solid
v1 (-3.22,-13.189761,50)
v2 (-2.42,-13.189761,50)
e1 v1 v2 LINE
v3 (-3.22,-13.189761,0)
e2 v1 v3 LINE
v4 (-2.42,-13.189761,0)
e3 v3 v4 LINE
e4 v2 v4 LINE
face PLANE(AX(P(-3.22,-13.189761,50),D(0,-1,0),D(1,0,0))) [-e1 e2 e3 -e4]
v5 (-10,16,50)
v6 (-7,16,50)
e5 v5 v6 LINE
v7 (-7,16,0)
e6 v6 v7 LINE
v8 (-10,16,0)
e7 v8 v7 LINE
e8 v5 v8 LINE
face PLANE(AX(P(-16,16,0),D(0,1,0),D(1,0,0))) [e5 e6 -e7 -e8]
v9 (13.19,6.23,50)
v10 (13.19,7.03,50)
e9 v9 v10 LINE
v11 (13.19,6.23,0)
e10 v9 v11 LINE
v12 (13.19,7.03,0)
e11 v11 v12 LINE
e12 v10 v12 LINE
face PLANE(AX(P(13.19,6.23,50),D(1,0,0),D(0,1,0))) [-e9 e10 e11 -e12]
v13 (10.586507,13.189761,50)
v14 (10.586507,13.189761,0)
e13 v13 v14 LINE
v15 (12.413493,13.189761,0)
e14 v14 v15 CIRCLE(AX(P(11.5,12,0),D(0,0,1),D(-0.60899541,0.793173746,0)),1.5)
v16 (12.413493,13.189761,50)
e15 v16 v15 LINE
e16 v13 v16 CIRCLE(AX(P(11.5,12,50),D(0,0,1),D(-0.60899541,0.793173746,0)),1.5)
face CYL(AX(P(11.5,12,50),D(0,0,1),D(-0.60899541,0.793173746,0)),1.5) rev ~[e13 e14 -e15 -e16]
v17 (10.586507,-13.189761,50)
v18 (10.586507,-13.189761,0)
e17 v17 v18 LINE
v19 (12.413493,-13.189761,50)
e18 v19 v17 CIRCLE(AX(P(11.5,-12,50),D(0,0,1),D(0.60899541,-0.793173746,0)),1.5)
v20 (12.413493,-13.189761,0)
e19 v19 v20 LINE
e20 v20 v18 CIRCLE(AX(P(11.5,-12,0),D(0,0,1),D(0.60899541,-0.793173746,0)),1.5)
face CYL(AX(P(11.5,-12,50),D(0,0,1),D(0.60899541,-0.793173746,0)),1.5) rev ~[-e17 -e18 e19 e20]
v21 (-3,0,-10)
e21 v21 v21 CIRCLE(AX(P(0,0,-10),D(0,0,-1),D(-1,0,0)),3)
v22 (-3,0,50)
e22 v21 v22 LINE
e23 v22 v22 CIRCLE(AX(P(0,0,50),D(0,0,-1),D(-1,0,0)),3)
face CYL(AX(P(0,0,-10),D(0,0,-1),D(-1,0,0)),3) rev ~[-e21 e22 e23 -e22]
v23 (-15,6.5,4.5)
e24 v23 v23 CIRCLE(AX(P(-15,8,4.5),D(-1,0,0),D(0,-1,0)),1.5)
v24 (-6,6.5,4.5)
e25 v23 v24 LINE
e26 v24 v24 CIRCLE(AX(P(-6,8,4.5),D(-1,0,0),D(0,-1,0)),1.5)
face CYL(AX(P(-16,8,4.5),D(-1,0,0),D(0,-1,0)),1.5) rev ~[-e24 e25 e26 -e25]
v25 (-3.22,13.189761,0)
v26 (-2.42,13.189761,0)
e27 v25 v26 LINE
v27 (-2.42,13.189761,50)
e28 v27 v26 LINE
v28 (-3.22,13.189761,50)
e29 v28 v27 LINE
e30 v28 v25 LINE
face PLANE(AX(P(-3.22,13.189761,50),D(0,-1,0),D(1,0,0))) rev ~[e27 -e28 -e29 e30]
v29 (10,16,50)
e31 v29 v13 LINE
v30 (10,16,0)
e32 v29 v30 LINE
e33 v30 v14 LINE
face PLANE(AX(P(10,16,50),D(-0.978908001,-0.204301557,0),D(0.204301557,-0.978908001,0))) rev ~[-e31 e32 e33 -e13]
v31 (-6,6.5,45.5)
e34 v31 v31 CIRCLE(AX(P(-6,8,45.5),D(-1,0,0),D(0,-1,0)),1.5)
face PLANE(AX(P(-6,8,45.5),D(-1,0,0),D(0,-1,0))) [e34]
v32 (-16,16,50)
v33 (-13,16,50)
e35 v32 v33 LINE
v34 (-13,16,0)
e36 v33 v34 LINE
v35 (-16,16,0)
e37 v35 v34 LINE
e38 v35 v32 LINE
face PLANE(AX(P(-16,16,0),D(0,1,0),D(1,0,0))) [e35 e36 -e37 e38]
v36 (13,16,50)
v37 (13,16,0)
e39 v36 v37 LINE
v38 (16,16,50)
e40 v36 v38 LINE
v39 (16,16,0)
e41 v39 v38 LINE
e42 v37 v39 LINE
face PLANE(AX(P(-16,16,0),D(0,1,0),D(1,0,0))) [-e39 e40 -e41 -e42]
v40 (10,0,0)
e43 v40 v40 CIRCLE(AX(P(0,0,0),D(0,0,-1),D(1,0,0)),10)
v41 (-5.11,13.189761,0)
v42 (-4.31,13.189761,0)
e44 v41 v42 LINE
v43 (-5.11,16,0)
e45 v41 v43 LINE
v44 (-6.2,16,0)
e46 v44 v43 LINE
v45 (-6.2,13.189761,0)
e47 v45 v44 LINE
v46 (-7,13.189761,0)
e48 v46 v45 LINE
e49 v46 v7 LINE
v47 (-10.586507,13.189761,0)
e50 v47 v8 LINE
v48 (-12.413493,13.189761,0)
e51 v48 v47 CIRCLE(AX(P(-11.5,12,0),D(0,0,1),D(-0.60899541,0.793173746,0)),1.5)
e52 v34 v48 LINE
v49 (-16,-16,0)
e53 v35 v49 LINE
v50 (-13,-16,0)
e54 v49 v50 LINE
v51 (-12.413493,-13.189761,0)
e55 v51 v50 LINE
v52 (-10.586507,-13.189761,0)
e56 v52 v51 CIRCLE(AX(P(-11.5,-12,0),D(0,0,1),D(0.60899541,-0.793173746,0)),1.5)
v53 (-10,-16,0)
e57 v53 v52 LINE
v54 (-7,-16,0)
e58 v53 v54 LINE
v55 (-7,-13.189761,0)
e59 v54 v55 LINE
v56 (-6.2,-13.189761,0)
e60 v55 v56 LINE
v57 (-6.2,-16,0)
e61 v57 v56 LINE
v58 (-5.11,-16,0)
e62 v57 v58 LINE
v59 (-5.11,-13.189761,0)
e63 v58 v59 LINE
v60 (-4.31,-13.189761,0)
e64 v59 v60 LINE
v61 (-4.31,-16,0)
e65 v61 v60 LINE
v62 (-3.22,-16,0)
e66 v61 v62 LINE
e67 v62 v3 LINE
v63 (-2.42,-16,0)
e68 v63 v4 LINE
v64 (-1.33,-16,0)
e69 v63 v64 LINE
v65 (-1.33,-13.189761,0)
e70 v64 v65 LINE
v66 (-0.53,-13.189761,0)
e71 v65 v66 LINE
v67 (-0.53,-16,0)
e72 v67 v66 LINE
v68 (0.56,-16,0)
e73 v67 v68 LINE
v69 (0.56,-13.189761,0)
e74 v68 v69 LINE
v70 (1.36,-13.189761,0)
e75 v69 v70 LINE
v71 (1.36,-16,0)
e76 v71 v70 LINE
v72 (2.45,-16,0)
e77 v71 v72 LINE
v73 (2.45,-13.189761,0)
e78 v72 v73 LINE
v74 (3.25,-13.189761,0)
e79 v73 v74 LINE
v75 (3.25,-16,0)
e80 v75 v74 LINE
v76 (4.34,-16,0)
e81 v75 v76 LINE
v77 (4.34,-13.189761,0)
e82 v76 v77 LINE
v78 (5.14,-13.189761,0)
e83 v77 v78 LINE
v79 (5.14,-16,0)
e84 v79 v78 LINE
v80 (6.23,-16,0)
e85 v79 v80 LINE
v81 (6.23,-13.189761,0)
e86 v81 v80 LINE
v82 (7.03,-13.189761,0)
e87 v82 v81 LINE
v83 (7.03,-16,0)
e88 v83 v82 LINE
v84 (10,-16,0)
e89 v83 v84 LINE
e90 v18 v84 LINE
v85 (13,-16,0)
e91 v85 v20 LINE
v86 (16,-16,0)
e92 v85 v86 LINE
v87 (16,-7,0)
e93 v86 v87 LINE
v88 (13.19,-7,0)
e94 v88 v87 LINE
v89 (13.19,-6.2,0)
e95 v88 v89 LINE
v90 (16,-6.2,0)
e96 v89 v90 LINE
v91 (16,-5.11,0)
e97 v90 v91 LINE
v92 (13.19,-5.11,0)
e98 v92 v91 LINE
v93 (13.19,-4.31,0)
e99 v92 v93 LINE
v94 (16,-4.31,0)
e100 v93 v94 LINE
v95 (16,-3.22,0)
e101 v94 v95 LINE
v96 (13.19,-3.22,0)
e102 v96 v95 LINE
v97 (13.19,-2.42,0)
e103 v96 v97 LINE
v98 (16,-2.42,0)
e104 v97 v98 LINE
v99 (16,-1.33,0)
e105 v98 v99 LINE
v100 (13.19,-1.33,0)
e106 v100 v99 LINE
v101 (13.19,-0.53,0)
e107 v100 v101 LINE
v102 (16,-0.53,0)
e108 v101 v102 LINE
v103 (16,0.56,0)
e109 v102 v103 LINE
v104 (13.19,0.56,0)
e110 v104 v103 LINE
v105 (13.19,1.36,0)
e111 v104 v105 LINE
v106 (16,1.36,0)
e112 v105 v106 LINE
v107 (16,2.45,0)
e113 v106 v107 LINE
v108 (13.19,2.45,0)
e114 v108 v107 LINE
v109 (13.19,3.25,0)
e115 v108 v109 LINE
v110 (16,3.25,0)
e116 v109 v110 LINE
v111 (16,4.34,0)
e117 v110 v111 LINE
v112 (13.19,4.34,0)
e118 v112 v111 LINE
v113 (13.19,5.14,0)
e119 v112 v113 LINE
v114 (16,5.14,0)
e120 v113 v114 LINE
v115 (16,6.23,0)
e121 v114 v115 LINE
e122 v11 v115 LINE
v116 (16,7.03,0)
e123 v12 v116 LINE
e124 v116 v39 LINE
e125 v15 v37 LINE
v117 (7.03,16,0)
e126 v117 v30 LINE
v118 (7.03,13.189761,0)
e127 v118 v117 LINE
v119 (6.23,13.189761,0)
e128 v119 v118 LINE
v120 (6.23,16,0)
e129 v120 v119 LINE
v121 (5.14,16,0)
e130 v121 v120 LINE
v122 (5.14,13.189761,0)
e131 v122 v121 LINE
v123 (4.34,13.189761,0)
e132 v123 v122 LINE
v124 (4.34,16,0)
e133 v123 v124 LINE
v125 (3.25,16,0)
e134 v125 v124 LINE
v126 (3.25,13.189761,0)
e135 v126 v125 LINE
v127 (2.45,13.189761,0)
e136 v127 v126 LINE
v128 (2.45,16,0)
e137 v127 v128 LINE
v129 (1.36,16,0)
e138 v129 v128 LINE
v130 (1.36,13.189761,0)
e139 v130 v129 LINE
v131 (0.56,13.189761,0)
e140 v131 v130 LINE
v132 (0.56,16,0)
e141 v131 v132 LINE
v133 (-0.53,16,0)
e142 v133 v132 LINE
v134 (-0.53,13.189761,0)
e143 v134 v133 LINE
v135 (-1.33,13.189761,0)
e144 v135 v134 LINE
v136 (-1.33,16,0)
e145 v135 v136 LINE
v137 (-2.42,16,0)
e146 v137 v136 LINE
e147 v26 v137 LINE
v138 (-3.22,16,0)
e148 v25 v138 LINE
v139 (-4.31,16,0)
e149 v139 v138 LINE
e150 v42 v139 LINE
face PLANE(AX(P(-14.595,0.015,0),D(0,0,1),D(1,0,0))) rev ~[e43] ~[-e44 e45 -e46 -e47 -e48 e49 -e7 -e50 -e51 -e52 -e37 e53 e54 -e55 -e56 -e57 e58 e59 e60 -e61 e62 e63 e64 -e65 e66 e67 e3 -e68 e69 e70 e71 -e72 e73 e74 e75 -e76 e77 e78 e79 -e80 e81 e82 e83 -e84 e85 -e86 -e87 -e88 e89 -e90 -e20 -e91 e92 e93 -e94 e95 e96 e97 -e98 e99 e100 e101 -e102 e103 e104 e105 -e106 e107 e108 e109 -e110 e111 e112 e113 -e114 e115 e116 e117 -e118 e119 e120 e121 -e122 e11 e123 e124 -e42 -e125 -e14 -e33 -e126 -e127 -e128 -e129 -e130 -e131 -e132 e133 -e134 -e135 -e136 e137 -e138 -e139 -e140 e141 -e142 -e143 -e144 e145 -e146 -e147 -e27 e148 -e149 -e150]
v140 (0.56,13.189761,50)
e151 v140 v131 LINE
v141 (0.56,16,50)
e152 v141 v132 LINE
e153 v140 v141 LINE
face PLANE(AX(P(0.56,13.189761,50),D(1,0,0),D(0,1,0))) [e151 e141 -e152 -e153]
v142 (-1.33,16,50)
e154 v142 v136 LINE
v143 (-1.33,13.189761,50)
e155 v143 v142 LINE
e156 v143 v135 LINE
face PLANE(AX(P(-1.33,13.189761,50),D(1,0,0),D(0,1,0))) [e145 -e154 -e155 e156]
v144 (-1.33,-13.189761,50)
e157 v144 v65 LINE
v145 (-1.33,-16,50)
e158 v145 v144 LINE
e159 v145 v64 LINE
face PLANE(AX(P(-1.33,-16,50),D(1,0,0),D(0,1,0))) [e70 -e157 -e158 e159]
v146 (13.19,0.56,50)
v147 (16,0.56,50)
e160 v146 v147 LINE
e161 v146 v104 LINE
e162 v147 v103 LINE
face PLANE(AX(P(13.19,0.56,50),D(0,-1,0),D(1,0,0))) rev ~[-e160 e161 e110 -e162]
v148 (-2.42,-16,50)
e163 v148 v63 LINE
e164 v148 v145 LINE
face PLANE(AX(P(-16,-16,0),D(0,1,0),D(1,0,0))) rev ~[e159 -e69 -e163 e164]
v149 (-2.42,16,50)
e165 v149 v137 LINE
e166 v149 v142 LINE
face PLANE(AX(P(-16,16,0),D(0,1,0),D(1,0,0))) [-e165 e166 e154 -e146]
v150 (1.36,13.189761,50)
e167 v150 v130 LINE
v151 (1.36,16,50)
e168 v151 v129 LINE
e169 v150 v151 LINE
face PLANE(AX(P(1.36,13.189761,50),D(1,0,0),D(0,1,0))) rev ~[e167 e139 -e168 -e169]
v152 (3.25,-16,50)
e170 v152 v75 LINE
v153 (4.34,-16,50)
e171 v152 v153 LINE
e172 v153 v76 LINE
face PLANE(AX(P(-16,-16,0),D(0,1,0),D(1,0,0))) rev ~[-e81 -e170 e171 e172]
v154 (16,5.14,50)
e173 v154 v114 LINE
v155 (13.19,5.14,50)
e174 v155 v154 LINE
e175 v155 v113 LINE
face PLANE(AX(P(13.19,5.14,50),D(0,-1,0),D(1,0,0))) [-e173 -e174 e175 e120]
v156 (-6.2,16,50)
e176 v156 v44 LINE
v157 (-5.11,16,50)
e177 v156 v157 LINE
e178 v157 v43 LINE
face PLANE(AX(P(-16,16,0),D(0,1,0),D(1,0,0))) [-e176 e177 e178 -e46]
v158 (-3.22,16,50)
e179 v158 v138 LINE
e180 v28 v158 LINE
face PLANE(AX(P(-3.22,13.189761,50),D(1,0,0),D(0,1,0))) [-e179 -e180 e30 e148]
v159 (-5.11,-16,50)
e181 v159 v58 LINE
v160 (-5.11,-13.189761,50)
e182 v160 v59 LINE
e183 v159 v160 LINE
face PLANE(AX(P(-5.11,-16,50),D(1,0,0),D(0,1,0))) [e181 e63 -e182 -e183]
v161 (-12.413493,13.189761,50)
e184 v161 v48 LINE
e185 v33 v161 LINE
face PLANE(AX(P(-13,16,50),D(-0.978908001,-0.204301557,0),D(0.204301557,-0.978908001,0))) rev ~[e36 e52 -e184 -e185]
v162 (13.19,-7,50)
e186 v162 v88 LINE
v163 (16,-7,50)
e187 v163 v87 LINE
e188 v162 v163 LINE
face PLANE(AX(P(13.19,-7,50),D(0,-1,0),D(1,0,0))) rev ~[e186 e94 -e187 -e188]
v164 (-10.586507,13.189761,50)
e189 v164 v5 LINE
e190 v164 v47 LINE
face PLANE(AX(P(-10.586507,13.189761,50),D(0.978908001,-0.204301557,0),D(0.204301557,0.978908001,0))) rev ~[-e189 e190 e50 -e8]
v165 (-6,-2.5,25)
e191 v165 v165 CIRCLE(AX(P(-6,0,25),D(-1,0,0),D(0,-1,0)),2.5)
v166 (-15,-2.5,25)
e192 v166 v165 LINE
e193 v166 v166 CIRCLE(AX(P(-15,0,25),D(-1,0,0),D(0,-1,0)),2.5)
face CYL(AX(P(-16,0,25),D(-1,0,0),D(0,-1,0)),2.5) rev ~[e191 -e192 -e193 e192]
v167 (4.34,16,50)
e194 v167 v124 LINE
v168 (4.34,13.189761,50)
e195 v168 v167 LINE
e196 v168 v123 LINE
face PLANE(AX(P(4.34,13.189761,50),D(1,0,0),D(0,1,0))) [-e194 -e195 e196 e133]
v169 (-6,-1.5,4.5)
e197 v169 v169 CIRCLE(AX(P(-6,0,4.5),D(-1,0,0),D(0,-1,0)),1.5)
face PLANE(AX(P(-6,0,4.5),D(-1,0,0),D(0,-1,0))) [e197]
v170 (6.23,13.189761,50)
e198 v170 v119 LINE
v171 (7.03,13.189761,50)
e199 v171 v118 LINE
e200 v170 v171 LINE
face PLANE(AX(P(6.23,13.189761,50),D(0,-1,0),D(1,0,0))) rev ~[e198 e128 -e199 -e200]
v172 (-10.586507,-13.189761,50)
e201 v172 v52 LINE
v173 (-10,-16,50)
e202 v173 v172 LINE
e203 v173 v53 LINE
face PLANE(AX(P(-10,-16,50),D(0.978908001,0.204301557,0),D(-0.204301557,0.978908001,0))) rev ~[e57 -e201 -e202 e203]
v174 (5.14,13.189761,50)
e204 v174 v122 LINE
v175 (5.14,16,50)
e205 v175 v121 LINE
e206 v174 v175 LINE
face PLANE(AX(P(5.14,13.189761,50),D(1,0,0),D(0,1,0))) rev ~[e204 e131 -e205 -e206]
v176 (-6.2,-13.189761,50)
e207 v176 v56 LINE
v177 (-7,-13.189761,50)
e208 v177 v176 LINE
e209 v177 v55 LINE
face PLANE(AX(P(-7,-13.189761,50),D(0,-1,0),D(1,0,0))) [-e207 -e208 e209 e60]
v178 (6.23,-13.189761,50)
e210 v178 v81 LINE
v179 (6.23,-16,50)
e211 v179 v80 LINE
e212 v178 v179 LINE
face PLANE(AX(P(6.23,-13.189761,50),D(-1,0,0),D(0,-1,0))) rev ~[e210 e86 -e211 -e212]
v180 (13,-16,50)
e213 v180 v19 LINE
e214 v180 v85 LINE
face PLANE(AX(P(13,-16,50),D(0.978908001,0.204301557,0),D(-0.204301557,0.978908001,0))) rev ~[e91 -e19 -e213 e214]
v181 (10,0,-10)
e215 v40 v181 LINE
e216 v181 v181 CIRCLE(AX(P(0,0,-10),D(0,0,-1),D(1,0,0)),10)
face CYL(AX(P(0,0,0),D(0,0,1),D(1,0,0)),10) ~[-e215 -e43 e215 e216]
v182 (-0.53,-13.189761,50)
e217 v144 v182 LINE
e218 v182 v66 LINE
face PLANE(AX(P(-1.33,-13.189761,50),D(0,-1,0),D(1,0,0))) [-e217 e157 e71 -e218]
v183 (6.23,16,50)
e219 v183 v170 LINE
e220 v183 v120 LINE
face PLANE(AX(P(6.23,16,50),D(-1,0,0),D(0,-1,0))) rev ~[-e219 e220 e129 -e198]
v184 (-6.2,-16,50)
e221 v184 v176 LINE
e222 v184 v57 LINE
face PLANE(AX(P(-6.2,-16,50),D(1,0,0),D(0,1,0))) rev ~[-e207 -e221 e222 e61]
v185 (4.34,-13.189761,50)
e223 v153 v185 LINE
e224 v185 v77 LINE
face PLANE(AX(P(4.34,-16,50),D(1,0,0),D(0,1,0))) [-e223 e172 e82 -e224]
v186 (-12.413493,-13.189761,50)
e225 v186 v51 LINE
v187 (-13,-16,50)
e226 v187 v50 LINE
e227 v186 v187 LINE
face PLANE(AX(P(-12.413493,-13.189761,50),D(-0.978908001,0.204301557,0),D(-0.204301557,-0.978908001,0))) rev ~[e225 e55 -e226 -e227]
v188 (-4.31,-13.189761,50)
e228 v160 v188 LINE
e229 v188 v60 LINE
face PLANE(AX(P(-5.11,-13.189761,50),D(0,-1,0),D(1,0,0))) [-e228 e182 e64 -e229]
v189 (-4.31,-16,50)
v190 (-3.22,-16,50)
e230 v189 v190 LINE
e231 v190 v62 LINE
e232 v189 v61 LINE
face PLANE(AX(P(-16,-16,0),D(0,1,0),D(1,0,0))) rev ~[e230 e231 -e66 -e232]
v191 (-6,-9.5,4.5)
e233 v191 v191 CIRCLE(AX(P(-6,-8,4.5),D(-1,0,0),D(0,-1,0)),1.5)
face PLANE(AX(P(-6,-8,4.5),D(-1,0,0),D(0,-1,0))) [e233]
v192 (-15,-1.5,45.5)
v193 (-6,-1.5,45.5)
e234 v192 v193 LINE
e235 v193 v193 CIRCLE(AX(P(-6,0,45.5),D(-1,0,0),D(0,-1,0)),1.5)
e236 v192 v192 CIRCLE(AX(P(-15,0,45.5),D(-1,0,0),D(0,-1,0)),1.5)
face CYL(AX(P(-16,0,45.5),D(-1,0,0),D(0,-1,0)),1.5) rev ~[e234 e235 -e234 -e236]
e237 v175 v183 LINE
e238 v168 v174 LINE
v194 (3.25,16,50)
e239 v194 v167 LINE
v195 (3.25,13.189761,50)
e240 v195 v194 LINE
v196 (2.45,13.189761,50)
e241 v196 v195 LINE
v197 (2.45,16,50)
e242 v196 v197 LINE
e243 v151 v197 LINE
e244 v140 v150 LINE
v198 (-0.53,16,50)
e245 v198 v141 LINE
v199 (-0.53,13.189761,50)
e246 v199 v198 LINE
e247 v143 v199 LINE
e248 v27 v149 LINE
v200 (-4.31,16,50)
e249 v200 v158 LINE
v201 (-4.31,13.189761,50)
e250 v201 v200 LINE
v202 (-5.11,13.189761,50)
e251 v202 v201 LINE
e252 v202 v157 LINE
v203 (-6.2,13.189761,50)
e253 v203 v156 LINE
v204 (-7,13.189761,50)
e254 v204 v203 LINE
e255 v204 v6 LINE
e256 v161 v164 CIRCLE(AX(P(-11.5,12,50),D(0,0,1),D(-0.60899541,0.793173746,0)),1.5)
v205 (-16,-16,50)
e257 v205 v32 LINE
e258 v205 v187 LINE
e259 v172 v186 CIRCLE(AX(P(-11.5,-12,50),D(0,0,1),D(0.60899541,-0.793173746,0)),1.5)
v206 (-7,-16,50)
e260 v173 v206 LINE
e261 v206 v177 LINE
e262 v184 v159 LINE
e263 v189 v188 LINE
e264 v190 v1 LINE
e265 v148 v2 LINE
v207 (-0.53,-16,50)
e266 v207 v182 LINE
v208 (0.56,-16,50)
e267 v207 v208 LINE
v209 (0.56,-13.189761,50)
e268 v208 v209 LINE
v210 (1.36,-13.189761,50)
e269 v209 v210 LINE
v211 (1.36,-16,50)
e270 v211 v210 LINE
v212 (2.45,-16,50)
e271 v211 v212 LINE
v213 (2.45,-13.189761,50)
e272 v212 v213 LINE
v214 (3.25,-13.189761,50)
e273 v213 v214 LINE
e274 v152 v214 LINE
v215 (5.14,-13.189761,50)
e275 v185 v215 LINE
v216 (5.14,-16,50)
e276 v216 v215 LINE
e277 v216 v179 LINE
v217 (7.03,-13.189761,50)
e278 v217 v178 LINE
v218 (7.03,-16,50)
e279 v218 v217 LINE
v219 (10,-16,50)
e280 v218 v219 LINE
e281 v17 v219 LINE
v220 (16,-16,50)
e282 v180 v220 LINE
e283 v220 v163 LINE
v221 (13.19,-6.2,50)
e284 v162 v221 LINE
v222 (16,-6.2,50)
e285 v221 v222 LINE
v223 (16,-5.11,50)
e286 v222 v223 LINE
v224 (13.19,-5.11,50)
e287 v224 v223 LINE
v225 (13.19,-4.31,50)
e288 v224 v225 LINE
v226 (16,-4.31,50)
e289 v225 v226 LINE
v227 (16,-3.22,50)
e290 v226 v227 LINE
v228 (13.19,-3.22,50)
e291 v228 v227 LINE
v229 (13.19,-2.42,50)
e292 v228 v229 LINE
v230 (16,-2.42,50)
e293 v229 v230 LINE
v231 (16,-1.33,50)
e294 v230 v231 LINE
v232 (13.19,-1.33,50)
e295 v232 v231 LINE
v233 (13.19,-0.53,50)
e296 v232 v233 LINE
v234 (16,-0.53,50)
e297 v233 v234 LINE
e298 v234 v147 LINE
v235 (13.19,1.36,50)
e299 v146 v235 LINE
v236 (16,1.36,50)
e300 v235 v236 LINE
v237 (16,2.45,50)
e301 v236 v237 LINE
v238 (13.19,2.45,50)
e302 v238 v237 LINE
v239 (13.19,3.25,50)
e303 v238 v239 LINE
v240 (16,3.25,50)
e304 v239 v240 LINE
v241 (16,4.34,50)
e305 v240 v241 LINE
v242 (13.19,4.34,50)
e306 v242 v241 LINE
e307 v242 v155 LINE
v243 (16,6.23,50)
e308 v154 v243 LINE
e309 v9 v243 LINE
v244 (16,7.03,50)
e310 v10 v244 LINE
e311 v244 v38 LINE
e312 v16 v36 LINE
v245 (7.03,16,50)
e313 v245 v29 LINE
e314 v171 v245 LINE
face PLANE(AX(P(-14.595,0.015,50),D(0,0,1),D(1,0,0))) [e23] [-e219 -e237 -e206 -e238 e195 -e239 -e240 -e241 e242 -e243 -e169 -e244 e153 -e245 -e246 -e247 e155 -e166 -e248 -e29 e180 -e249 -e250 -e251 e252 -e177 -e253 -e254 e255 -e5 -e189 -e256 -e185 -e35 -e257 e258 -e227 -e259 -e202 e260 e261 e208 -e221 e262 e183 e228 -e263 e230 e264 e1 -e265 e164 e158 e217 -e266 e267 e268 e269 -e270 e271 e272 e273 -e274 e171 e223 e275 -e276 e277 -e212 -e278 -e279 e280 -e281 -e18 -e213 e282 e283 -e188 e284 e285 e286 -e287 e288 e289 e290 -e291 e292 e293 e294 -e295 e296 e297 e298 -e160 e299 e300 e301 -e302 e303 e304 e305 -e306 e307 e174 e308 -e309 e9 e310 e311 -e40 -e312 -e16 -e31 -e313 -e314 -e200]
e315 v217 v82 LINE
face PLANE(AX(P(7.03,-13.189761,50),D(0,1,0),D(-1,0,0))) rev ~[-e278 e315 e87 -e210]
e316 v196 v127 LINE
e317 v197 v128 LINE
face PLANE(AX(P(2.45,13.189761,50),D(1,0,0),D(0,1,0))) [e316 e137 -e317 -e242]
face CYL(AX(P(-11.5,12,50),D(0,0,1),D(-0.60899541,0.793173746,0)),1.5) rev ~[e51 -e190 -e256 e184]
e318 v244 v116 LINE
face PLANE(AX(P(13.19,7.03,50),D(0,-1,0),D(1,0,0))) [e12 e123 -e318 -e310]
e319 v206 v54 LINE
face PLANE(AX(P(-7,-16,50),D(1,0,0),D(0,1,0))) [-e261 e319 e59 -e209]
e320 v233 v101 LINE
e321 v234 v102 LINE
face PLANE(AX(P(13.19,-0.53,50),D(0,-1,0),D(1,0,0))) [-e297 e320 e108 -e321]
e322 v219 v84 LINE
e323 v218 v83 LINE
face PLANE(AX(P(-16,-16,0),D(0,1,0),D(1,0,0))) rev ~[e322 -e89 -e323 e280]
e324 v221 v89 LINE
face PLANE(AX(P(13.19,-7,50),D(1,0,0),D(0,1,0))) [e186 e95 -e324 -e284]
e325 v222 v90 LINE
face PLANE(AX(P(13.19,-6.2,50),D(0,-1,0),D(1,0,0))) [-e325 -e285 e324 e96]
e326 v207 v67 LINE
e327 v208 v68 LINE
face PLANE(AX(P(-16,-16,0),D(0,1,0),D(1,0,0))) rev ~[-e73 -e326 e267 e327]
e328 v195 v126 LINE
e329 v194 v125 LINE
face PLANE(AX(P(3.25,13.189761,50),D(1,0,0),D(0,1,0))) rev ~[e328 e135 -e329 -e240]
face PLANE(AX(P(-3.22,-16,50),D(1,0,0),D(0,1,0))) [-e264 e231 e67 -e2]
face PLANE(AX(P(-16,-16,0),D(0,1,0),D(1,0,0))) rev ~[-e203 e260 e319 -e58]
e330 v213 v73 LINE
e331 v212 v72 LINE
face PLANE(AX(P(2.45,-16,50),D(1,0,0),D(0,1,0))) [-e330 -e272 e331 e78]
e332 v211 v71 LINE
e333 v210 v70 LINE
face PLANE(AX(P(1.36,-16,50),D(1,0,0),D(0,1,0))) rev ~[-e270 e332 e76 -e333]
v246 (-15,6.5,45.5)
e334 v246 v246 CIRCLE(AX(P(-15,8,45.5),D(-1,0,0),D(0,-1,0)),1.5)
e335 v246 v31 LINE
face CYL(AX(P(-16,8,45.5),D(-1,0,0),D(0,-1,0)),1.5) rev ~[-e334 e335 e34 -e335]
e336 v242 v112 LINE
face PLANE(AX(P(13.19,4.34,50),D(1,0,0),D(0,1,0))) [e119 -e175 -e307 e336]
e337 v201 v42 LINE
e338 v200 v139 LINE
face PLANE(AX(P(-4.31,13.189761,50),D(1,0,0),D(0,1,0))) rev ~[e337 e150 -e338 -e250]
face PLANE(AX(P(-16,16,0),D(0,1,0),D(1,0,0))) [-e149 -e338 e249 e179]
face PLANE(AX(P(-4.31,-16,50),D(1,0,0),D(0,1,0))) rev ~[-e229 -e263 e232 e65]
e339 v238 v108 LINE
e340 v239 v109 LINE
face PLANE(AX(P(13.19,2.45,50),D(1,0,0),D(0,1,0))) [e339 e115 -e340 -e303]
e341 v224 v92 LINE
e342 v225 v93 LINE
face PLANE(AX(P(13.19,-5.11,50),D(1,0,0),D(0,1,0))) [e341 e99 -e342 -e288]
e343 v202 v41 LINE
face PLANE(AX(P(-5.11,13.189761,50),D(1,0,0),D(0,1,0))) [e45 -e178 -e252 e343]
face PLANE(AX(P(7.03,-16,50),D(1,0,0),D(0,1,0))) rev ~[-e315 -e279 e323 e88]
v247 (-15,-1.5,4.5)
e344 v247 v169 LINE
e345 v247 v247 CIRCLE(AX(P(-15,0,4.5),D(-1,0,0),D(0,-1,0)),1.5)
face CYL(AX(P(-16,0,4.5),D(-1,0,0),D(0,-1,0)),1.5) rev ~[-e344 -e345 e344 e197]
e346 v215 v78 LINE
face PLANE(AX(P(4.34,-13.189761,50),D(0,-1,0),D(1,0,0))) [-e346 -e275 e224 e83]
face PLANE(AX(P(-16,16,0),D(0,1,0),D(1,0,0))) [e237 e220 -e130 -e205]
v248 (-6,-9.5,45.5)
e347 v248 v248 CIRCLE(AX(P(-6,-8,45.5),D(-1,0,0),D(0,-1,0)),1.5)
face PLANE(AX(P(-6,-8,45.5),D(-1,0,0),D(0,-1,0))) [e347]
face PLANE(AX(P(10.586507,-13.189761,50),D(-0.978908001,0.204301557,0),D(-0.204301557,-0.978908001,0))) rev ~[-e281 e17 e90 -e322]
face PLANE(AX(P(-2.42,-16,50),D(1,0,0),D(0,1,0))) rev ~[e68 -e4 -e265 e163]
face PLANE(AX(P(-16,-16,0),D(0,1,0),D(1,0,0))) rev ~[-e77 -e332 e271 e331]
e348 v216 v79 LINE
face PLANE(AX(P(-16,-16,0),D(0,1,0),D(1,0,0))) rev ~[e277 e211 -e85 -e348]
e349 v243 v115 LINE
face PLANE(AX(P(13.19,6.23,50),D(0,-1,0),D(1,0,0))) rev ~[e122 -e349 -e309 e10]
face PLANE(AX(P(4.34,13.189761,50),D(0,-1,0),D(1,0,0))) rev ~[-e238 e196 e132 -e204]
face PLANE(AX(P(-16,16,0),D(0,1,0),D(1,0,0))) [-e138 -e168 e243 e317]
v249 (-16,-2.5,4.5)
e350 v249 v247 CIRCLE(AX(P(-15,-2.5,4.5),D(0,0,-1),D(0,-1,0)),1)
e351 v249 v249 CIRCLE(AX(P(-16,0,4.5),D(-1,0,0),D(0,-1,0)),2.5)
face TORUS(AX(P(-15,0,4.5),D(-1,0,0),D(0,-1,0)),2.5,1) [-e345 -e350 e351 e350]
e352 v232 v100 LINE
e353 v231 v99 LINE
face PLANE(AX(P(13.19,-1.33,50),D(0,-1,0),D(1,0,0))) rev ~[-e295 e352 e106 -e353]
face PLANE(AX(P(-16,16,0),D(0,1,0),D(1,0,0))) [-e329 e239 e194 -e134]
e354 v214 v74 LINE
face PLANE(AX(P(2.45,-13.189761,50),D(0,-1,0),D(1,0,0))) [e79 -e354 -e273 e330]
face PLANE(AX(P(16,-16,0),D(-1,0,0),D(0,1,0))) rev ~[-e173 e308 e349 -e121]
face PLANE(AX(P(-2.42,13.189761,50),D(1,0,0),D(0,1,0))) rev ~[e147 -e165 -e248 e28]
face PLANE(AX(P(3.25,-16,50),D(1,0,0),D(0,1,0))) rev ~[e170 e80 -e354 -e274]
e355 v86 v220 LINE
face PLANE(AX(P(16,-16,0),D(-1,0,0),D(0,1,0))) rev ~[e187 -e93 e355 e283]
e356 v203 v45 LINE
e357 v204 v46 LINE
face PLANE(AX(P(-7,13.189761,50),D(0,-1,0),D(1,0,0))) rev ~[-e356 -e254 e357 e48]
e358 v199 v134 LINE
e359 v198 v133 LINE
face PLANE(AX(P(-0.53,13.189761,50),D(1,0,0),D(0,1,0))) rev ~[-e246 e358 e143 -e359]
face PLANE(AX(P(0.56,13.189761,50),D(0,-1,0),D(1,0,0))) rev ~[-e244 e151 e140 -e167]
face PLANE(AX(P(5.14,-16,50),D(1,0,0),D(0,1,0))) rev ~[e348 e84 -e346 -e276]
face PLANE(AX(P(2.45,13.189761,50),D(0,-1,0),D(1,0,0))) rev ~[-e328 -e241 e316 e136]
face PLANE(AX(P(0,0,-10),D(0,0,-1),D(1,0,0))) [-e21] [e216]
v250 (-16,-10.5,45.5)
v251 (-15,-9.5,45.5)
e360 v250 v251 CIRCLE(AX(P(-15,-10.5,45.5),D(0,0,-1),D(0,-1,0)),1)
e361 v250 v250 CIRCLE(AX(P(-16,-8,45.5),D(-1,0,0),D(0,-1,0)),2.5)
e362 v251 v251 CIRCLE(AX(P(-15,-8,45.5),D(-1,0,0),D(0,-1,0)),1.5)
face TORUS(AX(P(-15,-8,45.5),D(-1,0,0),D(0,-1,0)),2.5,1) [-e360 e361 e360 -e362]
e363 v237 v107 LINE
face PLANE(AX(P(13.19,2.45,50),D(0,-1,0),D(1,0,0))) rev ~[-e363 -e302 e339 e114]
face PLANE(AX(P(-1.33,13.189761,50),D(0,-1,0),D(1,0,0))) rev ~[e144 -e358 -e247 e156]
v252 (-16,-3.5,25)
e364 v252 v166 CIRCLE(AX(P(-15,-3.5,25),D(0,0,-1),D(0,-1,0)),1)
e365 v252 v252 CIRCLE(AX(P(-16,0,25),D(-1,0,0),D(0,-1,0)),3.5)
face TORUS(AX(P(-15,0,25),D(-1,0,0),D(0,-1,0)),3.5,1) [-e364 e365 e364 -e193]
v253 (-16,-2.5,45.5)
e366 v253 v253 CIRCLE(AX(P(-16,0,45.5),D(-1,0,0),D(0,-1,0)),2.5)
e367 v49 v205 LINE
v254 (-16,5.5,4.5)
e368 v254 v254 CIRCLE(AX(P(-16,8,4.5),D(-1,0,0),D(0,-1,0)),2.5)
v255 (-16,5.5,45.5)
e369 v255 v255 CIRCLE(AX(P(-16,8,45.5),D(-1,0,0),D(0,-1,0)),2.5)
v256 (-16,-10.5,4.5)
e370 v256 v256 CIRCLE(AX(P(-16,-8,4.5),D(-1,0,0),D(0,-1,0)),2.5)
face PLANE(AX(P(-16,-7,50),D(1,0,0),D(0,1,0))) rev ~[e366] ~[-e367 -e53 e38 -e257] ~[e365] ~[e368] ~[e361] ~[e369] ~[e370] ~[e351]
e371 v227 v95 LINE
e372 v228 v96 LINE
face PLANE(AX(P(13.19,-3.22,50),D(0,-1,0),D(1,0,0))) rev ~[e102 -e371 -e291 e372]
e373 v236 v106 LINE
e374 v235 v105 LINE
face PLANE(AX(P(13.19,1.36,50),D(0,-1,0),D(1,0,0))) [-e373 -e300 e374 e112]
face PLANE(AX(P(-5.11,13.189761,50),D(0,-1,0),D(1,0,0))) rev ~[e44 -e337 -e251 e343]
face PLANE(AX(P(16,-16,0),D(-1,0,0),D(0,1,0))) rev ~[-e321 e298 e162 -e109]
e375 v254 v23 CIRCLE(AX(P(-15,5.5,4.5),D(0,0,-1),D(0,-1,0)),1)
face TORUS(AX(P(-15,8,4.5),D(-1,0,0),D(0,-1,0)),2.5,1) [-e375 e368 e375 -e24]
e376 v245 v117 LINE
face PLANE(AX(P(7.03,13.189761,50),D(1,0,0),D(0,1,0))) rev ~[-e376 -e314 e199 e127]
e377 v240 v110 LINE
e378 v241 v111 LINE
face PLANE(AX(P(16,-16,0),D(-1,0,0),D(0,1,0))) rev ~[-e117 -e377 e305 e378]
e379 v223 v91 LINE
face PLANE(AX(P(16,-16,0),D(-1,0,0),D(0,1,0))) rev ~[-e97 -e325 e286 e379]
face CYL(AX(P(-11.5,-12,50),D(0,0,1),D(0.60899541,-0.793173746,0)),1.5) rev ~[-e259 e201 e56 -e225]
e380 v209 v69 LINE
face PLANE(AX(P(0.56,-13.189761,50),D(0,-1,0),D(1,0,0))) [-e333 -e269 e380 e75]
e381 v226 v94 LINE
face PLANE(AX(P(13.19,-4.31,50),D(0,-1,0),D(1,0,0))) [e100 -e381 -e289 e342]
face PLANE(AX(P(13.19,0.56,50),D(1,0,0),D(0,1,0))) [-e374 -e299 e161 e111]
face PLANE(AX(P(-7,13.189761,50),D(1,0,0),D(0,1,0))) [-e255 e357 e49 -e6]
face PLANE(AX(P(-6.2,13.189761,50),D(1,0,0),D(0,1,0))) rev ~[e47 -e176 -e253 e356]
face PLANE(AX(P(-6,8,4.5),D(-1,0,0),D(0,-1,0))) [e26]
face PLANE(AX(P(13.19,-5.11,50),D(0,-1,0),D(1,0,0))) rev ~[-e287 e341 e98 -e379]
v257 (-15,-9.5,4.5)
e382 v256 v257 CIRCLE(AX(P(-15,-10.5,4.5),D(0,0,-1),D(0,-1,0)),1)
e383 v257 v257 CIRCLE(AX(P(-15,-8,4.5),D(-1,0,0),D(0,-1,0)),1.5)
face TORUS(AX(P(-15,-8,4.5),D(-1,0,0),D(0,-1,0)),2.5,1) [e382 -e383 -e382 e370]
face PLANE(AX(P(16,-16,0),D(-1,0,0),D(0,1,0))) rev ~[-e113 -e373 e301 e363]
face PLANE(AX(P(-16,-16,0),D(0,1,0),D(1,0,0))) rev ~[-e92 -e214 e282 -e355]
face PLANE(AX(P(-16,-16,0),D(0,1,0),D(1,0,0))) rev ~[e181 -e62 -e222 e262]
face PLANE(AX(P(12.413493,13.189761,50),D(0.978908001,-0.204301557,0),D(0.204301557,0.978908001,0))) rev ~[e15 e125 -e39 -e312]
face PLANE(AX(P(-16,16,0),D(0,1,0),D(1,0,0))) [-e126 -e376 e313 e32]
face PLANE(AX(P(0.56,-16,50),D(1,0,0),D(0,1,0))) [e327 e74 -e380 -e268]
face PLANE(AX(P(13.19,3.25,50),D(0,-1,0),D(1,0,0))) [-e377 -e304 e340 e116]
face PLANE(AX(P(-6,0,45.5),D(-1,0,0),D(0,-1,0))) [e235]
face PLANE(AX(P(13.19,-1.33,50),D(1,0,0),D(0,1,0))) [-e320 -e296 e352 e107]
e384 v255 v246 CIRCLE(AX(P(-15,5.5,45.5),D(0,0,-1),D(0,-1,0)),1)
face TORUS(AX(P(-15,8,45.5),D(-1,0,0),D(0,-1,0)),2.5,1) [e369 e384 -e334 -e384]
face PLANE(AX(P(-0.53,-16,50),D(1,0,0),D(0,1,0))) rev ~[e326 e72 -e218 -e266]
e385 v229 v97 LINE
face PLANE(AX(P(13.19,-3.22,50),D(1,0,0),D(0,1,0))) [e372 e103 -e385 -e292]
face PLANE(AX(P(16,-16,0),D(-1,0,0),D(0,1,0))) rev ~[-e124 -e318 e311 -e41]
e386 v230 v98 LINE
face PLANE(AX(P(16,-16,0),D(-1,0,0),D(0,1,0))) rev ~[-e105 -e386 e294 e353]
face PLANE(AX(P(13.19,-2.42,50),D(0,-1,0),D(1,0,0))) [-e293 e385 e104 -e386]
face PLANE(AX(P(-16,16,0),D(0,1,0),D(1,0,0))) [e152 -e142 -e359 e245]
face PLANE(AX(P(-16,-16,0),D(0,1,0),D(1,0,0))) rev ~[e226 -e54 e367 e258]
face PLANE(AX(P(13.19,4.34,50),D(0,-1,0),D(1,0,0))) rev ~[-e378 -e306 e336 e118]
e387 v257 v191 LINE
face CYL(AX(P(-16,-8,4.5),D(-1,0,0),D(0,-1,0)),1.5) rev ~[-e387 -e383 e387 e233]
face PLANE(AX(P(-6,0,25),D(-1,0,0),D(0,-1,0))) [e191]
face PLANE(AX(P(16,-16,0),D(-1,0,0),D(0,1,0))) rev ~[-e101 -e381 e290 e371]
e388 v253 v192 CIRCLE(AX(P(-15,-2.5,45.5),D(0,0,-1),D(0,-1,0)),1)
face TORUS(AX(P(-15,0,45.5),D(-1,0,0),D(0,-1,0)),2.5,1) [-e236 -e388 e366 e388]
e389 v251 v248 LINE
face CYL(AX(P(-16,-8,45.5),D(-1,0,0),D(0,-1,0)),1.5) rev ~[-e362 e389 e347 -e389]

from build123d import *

# Parameters (mm, degrees)
SKETCH_1_W          = 32
SKETCH_1_H          = 32
EXTRUDE_2_DEPTH     = 50
SKETCH_3_W          = 0.8
SKETCH_3_H          = 2.810239381
SKETCH_3_W_2        = 2.81
SKETCH_3_H_2        = 0.8
CUT_EXTRUDE_1_DEPTH = 55.881690936
SKETCH_4_R          = 10
EXTRUDE_3_DEPTH     = 10
SKETCH_5_R          = 3
CUT_EXTRUDE_2_DEPTH = 65.124878168
SKETCH_6_W          = 2.81
SKETCH_6_H          = 14.03
EXTRUDE_4_DEPTH     = 50
SKETCH_7_R          = 2.5
SKETCH_7_R_2        = 1.5
CUT_EXTRUDE_3_DEPTH = 10
FILLET_1_R          = 1


with BuildPart() as part:
    # Эскиз1 → Бобышка-Вытянуть2 (new body)
    with BuildSketch(Plane.XY):
        Rectangle(SKETCH_1_W, SKETCH_1_H)
    extrude(amount=EXTRUDE_2_DEPTH)

    # Эскиз3 → Вырез-Вытянуть1 (cut, through all)
    with BuildSketch(Plane.XY.offset(50)):
        with BuildLine():
            Line((-10, 16), (-13, 16))
            Line((-13, 16), (-12.413493115, 13.189760619))
            ThreePointArc((-12.413493115, 13.189760619), (-11.5, 10.5), (-10.586506885, 13.189760619))
            Line((-10.586506885, 13.189760619), (-10, 16))
        make_face()
        with Locations((-6.6, 14.59488031)):
            Rectangle(SKETCH_3_W, SKETCH_3_H)
        with Locations((-4.71, 14.59488031)):
            Rectangle(SKETCH_3_W, SKETCH_3_H)
        with Locations((-2.82, 14.59488031)):
            Rectangle(SKETCH_3_W, SKETCH_3_H)
        with Locations((-0.93, 14.59488031)):
            Rectangle(SKETCH_3_W, SKETCH_3_H)
        with Locations((0.96, 14.59488031)):
            Rectangle(SKETCH_3_W, SKETCH_3_H)
        with Locations((2.85, 14.59488031)):
            Rectangle(SKETCH_3_W, SKETCH_3_H)
        with Locations((4.74, 14.59488031)):
            Rectangle(SKETCH_3_W, SKETCH_3_H)
        Polygon((7, 16), (6.23, 16), (6.23, 13.189760619), (7.03, 13.189760619), (7.03, 16), align=None)
        with BuildLine():
            Line((13, 16), (10, 16))
            Line((10, 16), (10.586506885, 13.189760619))
            ThreePointArc((10.586506885, 13.189760619), (11.5, 10.5), (12.413493115, 13.189760619))
            Line((12.413493115, 13.189760619), (13, 16))
        make_face()
        with Locations((-14.595, 6.63)):
            Rectangle(SKETCH_3_W_2, SKETCH_3_H_2)
        with Locations((-14.595, 4.74)):
            Rectangle(SKETCH_3_W_2, SKETCH_3_H_2)
        with Locations((-14.595, 2.85)):
            Rectangle(SKETCH_3_W_2, SKETCH_3_H_2)
        with Locations((-14.595, 0.96)):
            Rectangle(SKETCH_3_W_2, SKETCH_3_H_2)
        with Locations((-14.595, -0.93)):
            Rectangle(SKETCH_3_W_2, SKETCH_3_H_2)
        with Locations((-14.595, -2.82)):
            Rectangle(SKETCH_3_W_2, SKETCH_3_H_2)
        with Locations((-14.595, -6.6)):
            Rectangle(SKETCH_3_W_2, SKETCH_3_H_2)
        with Locations((-14.595, -4.71)):
            Rectangle(SKETCH_3_W_2, SKETCH_3_H_2)
        with BuildLine():
            Line((-12.413493115, -13.189760619), (-13, -16))
            Line((-13, -16), (-10, -16))
            Line((-10, -16), (-10.586506885, -13.189760619))
            ThreePointArc((-10.586506885, -13.189760619), (-11.5, -10.5), (-12.413493115, -13.189760619))
        make_face()
        with Locations((-6.6, -14.59488031)):
            Rectangle(SKETCH_3_W, SKETCH_3_H)
        with Locations((-4.71, -14.59488031)):
            Rectangle(SKETCH_3_W, SKETCH_3_H)
        with Locations((-2.82, -14.59488031)):
            Rectangle(SKETCH_3_W, SKETCH_3_H)
        with Locations((-0.93, -14.59488031)):
            Rectangle(SKETCH_3_W, SKETCH_3_H)
        with Locations((0.96, -14.59488031)):
            Rectangle(SKETCH_3_W, SKETCH_3_H)
        with Locations((2.85, -14.59488031)):
            Rectangle(SKETCH_3_W, SKETCH_3_H)
        with Locations((4.74, -14.59488031)):
            Rectangle(SKETCH_3_W, SKETCH_3_H)
        Polygon((6.23, -13.189760619), (6.23, -16), (7, -16), (7.03, -16), (7.03, -13.189760619), align=None)
        with BuildLine():
            Line((10.586506885, -13.189760619), (10, -16))
            Line((10, -16), (13, -16))
            Line((13, -16), (12.413493115, -13.189760619))
            ThreePointArc((12.413493115, -13.189760619), (11.5, -10.5), (10.586506885, -13.189760619))
        make_face()
        with Locations((14.595, -6.6)):
            Rectangle(SKETCH_3_W_2, SKETCH_3_H_2)
        with Locations((14.595, -4.71)):
            Rectangle(SKETCH_3_W_2, SKETCH_3_H_2)
        with Locations((14.595, -2.82)):
            Rectangle(SKETCH_3_W_2, SKETCH_3_H_2)
        with Locations((14.595, -0.93)):
            Rectangle(SKETCH_3_W_2, SKETCH_3_H_2)
        with Locations((14.595, 0.96)):
            Rectangle(SKETCH_3_W_2, SKETCH_3_H_2)
        with Locations((14.595, 2.85)):
            Rectangle(SKETCH_3_W_2, SKETCH_3_H_2)
        with Locations((14.595, 6.63)):
            Rectangle(SKETCH_3_W_2, SKETCH_3_H_2)
        with Locations((14.595, 4.74)):
            Rectangle(SKETCH_3_W_2, SKETCH_3_H_2)
    extrude(amount=-CUT_EXTRUDE_1_DEPTH, mode=Mode.SUBTRACT)

    # Эскиз4 → Бобышка-Вытянуть3 (add)
    with BuildSketch(Plane(origin=(0, 0, 0), x_dir=(-1, 0, 0), z_dir=(0, 0, -1))):
        with Locations(Location((0, 0, 0), (0, 0, 180))):
            Circle(SKETCH_4_R)
    extrude(amount=EXTRUDE_3_DEPTH)

    # Эскиз5 → Вырез-Вытянуть2 (cut, through all)
    with BuildSketch(Plane(origin=(0, 0, -10), x_dir=(-1, 0, 0), z_dir=(0, 0, -1))):
        Circle(SKETCH_5_R)
    extrude(amount=-CUT_EXTRUDE_2_DEPTH, mode=Mode.SUBTRACT)

    # Эскиз6 → Бобышка-Вытянуть4 (add)
    with BuildSketch(Plane.XY.offset(50)):
        with Locations((-14.595, 0.015)):
            Rectangle(SKETCH_6_W, SKETCH_6_H)
    extrude(amount=-EXTRUDE_4_DEPTH)

    # Эскиз7 → Вырез-Вытянуть3 (cut)
    with BuildSketch(Plane.ZY.offset(16)):
        with Locations(Location((25, 0, 0), (0, 0, 270))):
            Circle(SKETCH_7_R)
        with Locations(Location((4.5, 8, 0), (0, 0, 270))):
            Circle(SKETCH_7_R_2)
        with Locations(Location((4.5, -8, 0), (0, 0, 270))):
            Circle(SKETCH_7_R_2)
        with Locations(Location((4.5, 0, 0), (0, 0, 270))):
            Circle(SKETCH_7_R_2)
        with Locations(Location((45.5, 0, 0), (0, 0, 270))):
            Circle(SKETCH_7_R_2)
        with Locations(Location((45.5, -8, 0), (0, 0, 270))):
            Circle(SKETCH_7_R_2)
        with Locations(Location((45.5, 8, 0), (0, 0, 270))):
            Circle(SKETCH_7_R_2)
    extrude(amount=-CUT_EXTRUDE_3_DEPTH, mode=Mode.SUBTRACT)

    # Скругление1
    fillet_1_edges = [part.edges().sort_by_distance(p)[0] for p in [
        (-16, 9.5, 45.5),
        (-16, 1.5, 45.5),
        (-16, -6.5, 45.5),
        (-16, 2.5, 25),
        (-16, 9.5, 4.5),
        (-16, 1.5, 4.5),
        (-16, -6.5, 4.5),
    ]]
    fillet(fillet_1_edges, radius=FILLET_1_R)


solid = part.part
